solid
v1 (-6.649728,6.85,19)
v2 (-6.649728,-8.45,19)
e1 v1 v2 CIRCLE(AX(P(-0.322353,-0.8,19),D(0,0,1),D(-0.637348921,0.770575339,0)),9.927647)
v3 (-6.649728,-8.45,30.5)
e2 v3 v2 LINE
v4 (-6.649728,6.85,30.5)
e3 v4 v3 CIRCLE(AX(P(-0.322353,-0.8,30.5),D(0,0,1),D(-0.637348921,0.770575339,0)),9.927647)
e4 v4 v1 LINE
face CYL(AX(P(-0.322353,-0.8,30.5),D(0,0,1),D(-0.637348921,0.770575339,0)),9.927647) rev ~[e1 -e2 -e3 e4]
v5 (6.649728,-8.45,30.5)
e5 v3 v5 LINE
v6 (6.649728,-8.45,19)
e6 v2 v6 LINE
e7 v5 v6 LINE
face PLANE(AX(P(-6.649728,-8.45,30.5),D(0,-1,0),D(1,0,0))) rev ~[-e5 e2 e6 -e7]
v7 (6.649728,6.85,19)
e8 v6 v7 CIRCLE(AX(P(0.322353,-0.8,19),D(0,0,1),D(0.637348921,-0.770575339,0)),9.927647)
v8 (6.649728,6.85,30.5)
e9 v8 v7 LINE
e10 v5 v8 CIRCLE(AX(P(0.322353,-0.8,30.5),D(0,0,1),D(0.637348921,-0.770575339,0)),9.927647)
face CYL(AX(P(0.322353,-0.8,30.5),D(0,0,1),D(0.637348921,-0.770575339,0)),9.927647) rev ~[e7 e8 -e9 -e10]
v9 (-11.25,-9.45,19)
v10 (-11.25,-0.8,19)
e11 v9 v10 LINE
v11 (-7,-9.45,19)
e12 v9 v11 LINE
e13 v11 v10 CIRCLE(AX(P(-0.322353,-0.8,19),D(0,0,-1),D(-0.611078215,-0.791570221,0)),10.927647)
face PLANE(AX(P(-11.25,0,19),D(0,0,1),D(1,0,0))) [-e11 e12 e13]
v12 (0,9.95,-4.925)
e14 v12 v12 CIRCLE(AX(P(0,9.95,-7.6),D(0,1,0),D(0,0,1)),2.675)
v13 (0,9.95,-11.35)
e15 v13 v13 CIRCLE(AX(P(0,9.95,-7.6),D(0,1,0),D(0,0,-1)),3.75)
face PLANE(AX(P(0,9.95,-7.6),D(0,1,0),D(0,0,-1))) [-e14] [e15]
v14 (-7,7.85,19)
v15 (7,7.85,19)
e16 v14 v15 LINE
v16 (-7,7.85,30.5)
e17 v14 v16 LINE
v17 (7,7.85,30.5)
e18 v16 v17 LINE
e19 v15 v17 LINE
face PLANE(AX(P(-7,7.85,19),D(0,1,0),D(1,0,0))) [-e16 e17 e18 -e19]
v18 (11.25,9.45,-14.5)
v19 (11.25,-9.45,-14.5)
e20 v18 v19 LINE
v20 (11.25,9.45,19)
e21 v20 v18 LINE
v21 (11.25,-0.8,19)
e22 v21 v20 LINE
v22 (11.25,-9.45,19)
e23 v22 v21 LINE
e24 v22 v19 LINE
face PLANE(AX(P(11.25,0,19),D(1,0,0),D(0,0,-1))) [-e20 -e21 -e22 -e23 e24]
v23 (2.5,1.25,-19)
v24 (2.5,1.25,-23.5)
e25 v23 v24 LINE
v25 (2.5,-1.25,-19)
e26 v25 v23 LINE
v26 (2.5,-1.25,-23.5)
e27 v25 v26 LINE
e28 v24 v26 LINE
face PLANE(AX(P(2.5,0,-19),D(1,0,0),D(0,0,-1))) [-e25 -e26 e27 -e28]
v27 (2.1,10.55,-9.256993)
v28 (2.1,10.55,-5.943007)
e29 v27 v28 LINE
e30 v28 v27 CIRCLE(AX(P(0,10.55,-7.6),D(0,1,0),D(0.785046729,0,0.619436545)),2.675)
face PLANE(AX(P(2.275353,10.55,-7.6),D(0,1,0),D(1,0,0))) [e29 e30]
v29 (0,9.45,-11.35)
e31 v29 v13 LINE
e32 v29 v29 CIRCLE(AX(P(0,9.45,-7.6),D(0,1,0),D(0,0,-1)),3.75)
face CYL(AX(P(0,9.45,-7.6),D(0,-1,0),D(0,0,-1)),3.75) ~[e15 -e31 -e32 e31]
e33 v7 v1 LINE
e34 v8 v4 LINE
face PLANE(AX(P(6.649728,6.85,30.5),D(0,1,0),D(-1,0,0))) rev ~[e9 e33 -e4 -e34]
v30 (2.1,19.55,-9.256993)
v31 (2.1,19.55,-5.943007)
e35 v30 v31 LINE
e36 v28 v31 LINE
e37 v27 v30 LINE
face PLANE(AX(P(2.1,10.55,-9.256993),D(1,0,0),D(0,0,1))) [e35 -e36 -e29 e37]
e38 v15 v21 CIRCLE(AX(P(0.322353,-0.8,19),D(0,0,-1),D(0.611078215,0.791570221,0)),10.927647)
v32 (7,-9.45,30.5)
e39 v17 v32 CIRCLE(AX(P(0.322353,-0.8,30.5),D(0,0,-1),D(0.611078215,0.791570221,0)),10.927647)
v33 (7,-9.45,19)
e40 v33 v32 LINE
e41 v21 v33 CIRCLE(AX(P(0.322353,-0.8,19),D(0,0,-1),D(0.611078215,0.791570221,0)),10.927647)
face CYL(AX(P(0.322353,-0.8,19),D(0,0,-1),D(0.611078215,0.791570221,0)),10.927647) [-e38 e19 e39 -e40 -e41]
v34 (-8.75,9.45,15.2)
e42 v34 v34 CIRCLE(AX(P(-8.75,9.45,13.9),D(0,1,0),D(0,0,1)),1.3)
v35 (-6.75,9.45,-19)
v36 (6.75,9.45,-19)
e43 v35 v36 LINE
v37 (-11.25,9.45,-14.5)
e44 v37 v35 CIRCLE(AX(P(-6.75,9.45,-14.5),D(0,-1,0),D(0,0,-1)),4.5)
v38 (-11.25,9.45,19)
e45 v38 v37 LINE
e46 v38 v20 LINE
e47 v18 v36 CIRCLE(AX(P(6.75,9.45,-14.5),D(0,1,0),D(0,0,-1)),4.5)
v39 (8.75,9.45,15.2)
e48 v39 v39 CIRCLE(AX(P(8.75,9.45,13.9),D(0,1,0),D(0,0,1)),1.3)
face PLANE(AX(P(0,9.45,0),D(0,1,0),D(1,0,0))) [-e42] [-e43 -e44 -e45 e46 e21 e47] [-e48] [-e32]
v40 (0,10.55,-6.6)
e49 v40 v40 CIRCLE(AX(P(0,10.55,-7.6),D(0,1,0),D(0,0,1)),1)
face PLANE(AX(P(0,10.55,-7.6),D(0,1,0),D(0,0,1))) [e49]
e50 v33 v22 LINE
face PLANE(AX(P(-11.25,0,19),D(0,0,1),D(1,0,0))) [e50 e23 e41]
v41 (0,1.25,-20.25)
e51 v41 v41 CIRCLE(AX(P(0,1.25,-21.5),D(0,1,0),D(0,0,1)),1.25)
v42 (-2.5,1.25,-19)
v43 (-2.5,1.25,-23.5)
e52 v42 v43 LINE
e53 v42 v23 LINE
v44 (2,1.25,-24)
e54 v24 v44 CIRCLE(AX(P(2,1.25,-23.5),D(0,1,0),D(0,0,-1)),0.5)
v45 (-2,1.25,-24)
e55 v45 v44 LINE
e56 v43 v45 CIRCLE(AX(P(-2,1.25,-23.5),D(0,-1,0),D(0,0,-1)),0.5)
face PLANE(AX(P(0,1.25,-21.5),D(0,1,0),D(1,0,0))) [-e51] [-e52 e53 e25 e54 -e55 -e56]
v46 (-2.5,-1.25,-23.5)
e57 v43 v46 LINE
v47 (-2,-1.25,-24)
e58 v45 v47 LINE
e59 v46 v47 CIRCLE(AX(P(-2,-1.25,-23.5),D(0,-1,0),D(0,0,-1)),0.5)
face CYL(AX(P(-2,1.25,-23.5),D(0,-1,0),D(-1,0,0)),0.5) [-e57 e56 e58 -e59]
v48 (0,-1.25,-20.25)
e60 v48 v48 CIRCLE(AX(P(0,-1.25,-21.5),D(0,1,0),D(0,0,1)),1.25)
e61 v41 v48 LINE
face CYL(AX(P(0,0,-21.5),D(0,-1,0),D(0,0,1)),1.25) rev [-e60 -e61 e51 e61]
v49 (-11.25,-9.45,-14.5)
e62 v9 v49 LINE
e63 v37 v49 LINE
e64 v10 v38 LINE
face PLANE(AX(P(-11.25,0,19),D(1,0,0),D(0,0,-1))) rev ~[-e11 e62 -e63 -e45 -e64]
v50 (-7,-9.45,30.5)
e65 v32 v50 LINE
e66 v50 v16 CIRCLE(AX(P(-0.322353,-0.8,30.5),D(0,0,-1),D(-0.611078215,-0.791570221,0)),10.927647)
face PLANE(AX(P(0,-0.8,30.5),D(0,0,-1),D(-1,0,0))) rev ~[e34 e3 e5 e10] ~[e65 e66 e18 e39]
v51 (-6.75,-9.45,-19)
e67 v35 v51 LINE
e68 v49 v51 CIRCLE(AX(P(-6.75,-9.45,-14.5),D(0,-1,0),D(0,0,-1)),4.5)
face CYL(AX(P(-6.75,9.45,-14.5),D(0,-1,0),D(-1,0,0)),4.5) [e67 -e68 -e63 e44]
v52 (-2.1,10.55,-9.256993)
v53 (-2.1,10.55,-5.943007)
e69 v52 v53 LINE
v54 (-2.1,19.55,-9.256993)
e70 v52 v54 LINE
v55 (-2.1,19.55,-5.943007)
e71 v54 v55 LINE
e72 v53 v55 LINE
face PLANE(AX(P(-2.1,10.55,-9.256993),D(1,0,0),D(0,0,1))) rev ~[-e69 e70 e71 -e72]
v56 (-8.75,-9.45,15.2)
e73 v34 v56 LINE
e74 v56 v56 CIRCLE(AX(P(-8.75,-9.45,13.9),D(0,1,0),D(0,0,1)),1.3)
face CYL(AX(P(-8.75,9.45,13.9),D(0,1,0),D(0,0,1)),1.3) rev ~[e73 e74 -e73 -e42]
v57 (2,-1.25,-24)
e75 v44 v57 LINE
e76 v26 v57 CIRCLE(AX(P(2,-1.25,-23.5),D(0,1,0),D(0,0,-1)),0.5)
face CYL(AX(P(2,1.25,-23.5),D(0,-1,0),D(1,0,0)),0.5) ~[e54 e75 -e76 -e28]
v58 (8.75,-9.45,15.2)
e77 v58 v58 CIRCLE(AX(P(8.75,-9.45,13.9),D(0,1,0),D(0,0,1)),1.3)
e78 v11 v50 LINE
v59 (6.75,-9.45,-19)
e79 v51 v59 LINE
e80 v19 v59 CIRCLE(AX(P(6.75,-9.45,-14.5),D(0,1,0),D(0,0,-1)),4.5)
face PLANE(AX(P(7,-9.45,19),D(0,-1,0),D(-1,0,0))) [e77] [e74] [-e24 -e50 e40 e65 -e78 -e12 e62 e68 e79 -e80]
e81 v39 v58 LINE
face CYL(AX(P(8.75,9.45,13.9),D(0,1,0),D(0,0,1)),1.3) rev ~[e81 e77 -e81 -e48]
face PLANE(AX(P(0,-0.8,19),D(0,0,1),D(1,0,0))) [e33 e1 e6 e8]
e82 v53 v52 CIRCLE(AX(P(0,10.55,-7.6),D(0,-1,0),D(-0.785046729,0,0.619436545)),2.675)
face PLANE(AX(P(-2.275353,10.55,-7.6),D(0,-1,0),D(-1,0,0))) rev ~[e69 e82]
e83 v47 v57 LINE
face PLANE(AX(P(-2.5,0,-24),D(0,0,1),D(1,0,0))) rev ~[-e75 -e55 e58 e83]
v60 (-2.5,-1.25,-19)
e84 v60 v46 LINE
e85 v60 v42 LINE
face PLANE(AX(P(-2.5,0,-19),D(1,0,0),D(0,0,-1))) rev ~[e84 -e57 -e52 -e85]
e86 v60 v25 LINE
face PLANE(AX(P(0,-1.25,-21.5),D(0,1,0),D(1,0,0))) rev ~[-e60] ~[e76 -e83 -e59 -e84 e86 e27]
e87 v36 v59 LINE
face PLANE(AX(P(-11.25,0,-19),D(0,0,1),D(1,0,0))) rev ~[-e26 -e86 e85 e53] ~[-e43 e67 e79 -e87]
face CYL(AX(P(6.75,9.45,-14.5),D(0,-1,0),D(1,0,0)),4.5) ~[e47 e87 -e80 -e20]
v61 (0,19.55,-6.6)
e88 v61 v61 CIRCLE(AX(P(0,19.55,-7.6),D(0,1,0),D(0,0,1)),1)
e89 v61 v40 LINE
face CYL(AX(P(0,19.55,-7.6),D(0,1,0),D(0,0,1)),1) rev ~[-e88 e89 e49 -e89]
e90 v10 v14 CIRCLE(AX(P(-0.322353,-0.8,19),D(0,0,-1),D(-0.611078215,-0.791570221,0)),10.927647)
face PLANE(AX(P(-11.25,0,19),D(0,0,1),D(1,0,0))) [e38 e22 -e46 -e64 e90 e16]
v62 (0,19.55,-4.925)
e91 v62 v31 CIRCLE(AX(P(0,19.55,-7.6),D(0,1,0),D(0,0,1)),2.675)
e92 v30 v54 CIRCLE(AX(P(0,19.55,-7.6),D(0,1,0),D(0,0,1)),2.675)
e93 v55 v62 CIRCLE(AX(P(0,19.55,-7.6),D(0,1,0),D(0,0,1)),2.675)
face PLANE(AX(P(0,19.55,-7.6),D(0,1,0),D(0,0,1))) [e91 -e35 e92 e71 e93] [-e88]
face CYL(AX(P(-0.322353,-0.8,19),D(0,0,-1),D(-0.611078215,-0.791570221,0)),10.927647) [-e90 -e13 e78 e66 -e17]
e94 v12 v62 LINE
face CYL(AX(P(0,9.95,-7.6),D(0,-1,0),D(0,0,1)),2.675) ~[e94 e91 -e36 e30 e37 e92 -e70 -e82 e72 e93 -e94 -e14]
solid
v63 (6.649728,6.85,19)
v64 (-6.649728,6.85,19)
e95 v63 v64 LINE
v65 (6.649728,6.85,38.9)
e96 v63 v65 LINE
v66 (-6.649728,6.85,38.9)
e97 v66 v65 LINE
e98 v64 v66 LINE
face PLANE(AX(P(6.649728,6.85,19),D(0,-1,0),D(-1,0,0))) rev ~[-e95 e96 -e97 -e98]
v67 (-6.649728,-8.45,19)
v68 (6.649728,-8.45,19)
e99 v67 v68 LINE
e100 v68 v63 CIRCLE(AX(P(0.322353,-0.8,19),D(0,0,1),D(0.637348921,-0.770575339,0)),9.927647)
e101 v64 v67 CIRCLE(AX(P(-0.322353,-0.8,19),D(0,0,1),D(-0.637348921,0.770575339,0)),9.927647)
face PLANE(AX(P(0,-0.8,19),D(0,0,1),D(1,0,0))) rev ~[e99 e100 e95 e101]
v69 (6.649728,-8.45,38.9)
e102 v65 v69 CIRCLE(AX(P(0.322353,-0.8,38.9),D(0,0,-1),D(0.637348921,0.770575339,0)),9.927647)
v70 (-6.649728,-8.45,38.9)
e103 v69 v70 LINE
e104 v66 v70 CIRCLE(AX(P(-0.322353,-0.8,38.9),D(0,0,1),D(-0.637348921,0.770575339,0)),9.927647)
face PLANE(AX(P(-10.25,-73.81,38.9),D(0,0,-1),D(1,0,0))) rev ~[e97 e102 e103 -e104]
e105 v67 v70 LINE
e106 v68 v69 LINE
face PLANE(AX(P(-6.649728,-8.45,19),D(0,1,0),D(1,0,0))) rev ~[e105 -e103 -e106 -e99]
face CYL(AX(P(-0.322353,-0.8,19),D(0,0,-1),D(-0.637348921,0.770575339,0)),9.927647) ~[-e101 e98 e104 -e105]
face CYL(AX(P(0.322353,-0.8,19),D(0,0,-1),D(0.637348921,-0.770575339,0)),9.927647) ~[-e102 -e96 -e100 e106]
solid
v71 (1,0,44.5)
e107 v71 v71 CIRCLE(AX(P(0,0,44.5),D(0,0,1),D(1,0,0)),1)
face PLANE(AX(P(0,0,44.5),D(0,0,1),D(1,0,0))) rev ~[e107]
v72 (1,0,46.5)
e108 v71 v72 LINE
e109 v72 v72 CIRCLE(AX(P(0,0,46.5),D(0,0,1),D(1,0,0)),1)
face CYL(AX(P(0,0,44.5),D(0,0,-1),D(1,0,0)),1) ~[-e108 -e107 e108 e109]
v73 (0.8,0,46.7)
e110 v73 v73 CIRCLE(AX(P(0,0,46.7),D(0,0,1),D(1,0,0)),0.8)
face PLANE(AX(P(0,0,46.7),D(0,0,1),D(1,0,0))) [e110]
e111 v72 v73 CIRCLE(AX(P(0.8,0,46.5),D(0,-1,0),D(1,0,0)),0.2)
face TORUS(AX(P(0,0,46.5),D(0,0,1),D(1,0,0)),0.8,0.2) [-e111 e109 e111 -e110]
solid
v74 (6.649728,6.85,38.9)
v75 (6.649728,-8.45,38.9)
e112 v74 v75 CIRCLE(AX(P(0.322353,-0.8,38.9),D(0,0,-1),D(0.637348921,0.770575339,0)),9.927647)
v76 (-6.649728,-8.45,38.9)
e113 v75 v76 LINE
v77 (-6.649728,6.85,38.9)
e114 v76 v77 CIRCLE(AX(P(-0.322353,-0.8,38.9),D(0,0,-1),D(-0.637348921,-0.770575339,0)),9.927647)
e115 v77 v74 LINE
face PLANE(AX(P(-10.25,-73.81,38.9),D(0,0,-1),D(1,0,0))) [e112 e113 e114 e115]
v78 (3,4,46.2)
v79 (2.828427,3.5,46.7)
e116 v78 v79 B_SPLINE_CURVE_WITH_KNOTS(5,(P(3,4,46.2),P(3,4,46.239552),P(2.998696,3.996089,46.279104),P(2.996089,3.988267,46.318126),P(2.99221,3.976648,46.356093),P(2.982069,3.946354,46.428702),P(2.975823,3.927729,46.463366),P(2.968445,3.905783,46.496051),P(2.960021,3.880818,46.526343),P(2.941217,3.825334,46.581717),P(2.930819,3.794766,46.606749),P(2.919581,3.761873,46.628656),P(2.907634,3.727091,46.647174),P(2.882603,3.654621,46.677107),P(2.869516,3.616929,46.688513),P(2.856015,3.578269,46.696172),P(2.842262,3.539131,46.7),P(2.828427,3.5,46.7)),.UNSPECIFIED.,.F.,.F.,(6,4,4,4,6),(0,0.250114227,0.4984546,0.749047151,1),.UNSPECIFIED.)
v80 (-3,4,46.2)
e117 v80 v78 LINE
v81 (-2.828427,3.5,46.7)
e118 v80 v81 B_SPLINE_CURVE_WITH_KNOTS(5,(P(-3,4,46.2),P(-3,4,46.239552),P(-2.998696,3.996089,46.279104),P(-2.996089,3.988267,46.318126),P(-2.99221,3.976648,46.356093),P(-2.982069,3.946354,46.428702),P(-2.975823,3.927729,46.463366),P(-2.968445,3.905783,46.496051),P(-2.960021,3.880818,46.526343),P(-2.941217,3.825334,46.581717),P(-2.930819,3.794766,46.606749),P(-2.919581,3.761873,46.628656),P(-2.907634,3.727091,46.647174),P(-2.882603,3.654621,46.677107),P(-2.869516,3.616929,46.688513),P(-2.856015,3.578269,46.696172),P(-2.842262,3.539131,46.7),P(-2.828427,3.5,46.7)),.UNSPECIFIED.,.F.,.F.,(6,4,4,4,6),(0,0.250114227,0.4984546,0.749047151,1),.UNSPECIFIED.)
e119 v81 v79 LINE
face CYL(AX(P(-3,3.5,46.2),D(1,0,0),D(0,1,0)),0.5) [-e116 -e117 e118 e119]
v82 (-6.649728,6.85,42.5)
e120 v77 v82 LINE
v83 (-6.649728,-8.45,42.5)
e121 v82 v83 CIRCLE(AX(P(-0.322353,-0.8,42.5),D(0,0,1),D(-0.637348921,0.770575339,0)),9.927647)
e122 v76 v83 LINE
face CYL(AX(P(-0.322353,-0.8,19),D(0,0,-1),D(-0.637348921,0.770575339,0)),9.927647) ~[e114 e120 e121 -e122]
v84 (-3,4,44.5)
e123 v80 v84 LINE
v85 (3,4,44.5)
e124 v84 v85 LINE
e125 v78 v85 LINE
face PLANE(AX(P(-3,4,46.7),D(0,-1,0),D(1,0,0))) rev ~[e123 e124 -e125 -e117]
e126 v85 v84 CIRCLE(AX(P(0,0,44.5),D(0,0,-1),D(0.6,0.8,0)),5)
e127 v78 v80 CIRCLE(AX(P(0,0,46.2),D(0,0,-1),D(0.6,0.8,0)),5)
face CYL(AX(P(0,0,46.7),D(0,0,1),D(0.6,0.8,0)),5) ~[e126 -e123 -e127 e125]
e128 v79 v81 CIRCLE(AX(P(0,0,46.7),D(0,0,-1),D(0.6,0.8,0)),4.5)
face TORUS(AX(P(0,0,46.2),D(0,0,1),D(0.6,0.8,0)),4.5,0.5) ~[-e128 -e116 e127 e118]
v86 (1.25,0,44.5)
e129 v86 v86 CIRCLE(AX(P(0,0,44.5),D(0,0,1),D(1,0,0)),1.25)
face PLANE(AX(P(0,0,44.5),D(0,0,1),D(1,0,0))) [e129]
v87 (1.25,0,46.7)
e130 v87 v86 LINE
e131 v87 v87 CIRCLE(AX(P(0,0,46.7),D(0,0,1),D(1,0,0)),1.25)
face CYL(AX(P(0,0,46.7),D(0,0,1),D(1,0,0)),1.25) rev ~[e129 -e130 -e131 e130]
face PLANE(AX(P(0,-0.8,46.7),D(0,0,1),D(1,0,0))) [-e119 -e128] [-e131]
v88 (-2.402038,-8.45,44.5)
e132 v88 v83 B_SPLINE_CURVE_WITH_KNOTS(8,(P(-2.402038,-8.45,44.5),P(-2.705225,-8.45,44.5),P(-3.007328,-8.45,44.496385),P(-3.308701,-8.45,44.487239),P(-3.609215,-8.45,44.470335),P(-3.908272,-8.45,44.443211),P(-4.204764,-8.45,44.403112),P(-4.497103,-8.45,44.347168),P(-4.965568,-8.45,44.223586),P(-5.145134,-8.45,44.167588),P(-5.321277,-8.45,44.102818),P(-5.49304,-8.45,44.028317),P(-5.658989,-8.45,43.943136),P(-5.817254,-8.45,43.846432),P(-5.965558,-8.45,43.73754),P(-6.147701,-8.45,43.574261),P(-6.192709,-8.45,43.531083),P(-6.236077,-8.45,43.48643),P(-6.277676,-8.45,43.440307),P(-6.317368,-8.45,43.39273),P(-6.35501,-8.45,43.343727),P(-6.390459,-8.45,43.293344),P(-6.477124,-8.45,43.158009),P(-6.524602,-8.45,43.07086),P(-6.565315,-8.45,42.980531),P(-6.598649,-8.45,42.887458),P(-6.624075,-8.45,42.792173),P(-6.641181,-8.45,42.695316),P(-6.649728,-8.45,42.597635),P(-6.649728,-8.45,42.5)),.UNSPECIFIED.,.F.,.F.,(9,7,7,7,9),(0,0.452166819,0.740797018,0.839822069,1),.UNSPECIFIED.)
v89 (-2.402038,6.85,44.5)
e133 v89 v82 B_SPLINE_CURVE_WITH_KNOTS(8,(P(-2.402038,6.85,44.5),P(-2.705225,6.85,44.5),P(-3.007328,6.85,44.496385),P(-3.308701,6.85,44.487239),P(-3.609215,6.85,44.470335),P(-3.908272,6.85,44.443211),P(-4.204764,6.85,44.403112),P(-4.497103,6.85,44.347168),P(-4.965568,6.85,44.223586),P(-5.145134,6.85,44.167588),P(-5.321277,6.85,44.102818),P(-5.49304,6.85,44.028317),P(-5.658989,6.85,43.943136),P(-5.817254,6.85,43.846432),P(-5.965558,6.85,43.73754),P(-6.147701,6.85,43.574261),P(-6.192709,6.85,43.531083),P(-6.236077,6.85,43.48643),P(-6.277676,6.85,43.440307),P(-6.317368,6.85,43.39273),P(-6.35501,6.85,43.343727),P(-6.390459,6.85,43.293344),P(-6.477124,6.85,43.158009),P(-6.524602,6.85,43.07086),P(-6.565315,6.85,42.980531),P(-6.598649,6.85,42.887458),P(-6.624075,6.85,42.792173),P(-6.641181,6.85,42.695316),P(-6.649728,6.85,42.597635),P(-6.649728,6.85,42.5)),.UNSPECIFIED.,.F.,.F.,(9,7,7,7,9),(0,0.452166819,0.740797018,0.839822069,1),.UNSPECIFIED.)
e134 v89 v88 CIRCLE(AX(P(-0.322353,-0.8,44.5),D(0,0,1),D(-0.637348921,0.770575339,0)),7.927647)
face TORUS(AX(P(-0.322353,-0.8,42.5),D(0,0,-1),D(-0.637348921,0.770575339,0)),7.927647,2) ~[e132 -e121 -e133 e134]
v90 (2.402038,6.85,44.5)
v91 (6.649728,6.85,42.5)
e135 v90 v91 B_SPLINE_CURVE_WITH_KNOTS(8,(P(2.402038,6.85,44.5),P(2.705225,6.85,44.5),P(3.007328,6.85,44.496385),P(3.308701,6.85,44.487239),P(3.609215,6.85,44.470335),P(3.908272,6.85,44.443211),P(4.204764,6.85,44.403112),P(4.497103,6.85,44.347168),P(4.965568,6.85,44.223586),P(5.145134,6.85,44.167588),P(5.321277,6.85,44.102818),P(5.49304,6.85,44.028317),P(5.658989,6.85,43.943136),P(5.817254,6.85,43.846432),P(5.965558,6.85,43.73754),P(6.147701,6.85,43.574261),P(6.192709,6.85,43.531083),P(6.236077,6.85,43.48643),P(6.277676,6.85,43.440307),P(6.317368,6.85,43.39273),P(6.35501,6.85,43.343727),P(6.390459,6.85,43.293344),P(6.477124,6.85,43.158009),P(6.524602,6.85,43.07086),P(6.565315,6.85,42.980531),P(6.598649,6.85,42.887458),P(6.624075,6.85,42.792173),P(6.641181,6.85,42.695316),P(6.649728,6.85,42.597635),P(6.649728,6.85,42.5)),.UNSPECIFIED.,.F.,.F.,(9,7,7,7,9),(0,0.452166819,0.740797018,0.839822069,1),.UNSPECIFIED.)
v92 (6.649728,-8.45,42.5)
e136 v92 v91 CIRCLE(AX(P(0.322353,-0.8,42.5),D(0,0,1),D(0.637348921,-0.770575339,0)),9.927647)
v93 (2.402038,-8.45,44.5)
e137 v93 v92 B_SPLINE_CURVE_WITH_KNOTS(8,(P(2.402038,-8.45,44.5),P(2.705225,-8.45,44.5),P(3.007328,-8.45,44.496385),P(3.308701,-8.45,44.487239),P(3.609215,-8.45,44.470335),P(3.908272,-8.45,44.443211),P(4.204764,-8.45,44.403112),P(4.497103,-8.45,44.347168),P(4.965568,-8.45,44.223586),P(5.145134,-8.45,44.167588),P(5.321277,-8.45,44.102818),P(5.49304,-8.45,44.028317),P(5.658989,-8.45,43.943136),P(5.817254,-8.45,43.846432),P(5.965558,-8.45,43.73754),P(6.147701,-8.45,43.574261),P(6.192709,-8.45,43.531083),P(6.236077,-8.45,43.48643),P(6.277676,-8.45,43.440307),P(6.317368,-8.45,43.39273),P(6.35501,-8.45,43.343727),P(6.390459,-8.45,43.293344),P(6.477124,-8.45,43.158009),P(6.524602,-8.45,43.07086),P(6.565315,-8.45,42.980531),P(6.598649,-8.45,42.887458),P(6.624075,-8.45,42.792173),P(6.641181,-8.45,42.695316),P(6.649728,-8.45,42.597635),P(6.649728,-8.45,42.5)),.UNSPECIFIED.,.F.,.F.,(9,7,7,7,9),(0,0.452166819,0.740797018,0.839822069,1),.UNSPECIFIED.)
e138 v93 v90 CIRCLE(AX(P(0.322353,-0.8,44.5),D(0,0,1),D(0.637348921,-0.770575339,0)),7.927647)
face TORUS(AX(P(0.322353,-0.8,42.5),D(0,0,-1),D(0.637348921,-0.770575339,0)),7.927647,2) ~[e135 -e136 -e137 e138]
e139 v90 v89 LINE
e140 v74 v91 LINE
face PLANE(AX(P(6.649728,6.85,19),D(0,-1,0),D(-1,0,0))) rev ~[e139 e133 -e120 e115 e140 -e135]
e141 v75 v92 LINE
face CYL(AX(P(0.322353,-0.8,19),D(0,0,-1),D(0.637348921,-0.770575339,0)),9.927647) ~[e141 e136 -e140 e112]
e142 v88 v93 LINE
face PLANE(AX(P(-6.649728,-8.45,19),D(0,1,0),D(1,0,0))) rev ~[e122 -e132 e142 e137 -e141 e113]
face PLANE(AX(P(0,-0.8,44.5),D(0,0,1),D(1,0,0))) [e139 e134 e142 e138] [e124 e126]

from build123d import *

# Parameters (mm, degrees)
SKETCH1_W              = 22.5
SKETCH1_H              = 38
BOSS_EXTRUDE1_DEPTH    = 9.45
FILLET1_R              = 4.5
BOSS_EXTRUDE2_DEPTH    = 11.5
CUT_EXTRUDE1_DEPTH     = 11.5
SKETCH4_W              = 5
SKETCH4_H              = 5
SKETCH4_R              = 1.25
BOSS_EXTRUDE3_DEPTH    = 1.25
SKETCH5_R              = 3.75
BOSS_EXTRUDE4_DEPTH    = 0.5
SKETCH6_R              = 2.675
BOSS_EXTRUDE5_DEPTH    = 9.6
CUT_EXTRUDE4_START     = -9
CUT_EXTRUDE4_DEPTH     = 9
SKETCH8_R              = 1
CUT_EXTRUDE5_DEPTH     = 9
FILLET2_R              = 0.5
BOSS_EXTRUDE6_DEPTH    = 27.7
SPLIT1_SURFACE_1_BACK  = 80.66
SPLIT1_SURFACE_1_DEPTH = 161.32
SPLIT1_SURFACE_2_BACK  = 80.66
SPLIT1_SURFACE_2_DEPTH = 161.32
CUT_EXTRUDE6_DEPTH     = 2.2
FILLET4_R              = 0.5
FILLET3_R              = 2
SKETCH12_R             = 1.25
CUT_EXTRUDE7_DEPTH     = 2.2
SKETCH13_R             = 1
BOSS_EXTRUDE7_DEPTH    = 2.2
FILLET5_R              = 0.2
SKETCH14_R             = 1.3
CUT_EXTRUDE8_DEPTH     = 18.9


with BuildPart() as part:
    # Sketch1 → Boss-Extrude1 (new, symmetric)
    with BuildSketch(Plane(origin=(0, 0, 0), x_dir=(1, 0, 0), z_dir=(0, 1, 0))):
        Rectangle(SKETCH1_W, SKETCH1_H)
    extrude(amount=BOSS_EXTRUDE1_DEPTH, both=True)

    # Fillet1
    fillet1_edges = [part.edges().sort_by_distance(p)[0] for p in [
        (-11.25, 0, -19),
        (11.25, 0, -19),
    ]]
    fillet(fillet1_edges, radius=FILLET1_R)

    # Sketch2 → Boss-Extrude2 (add)
    with BuildSketch(Plane.XY.offset(19)):
        with BuildLine():
            Line((7, -9.45), (-7, -9.45))
            ThreePointArc((-7, -9.45), (-11.25, -0.8), (-7, 7.85))
            Line((-7, 7.85), (7, 7.85))
            ThreePointArc((7, 7.85), (11.25, -0.8), (7, -9.45))
        make_face()
    extrude(amount=BOSS_EXTRUDE2_DEPTH)

    # Sketch3 → Cut-Extrude1 (cut)
    with BuildSketch(Plane.XY.offset(30.5)):
        with BuildLine():
            Line((-6.649728078, -8.45), (6.649728078, -8.45))
            ThreePointArc((6.649728078, -8.45), (10.25, -0.8), (6.649728078, 6.85))
            Line((6.649728078, 6.85), (-6.649728078, 6.85))
            ThreePointArc((-6.649728078, 6.85), (-10.25, -0.8), (-6.649728078, -8.45))
        make_face()
    extrude(amount=-CUT_EXTRUDE1_DEPTH, mode=Mode.SUBTRACT)

    # Sketch4 → Boss-Extrude3 (add, symmetric)
    with BuildSketch(Plane(origin=(0, 0, 0), x_dir=(1, 0, 0), z_dir=(0, 1, 0))):
        with Locations((0, 21.5)):
            Rectangle(SKETCH4_W, SKETCH4_H)
        with Locations(Location((0, 21.5, 0), (0, 0, 270))):
            Circle(SKETCH4_R, mode=Mode.SUBTRACT)
    extrude(amount=BOSS_EXTRUDE3_DEPTH, both=True)

    # Sketch5 → Boss-Extrude4 (add)
    with BuildSketch(Plane(origin=(0, 9.45, 0), x_dir=(1, 0, 0), z_dir=(0, 1, 0))):
        with Locations(Location((0, 7.6, 0), (0, 0, 90))):
            Circle(SKETCH5_R)
    extrude(amount=BOSS_EXTRUDE4_DEPTH)

    # Sketch6 → Boss-Extrude5 (add)
    with BuildSketch(Plane(origin=(0, 9.95, 0), x_dir=(1, 0, 0), z_dir=(0, 1, 0))):
        with Locations(Location((0, 7.6, 0), (0, 0, 270))):
            Circle(SKETCH6_R)
    extrude(amount=BOSS_EXTRUDE5_DEPTH)

    # Sketch7 → Cut-Extrude4 (cut)
    with BuildSketch(Plane(origin=(0, 19.55, 0), x_dir=(1, 0, 0), z_dir=(0, 1, 0)).offset(CUT_EXTRUDE4_START)):
        with BuildLine():
            Line((-2.1, 9.256992758), (-2.1, 5.943007242))
            ThreePointArc((-2.1, 5.943007242), (-2.675, 7.6), (-2.1, 9.256992758))
        make_face()
        with BuildLine():
            Line((2.1, 9.256992758), (2.1, 5.943007242))
            ThreePointArc((2.1, 5.943007242), (2.675, 7.6), (2.1, 9.256992758))
        make_face()
    extrude(amount=CUT_EXTRUDE4_DEPTH, mode=Mode.SUBTRACT)

    # Sketch8 → Cut-Extrude5 (cut)
    with BuildSketch(Plane(origin=(0, 19.55, 0), x_dir=(1, 0, 0), z_dir=(0, 1, 0))):
        with Locations(Location((0, 7.6, 0), (0, 0, 270))):
            Circle(SKETCH8_R)
    extrude(amount=-CUT_EXTRUDE5_DEPTH, mode=Mode.SUBTRACT)

    # Fillet2
    fillet2_edges = [part.edges().sort_by_distance(p)[0] for p in [
        (-2.5, 0, -24),
        (2.5, 0, -24),
    ]]
    fillet(fillet2_edges, radius=FILLET2_R)

    # Sketch14 → Cut-Extrude8 (cut)
    with BuildSketch(Plane(origin=(0, 9.45, 0), x_dir=(1, 0, 0), z_dir=(0, 1, 0))):
        with Locations(Location((-8.75, -13.9, 0), (0, 0, 270))):
            Circle(SKETCH14_R)
        with Locations(Location((8.75, -13.9, 0), (0, 0, 270))):
            Circle(SKETCH14_R)
    extrude(amount=-CUT_EXTRUDE8_DEPTH, mode=Mode.SUBTRACT)


with BuildPart() as body_2:
    # Sketch9 → Boss-Extrude6 (new body)
    with BuildSketch(Plane.XY.offset(19)):
        with BuildLine():
            Line((-6.649728078, -8.45), (6.649728078, -8.45))
            ThreePointArc((6.649728078, -8.45), (10.25, -0.8), (6.649728078, 6.85))
            Line((6.649728078, 6.85), (-6.649728078, 6.85))
            ThreePointArc((-6.649728078, 6.85), (-10.25, -0.8), (-6.649728078, -8.45))
        make_face()
    extrude(amount=BOSS_EXTRUDE6_DEPTH)


with BuildPart() as body_3:
    # Split1: the piece behind the surface
    add(body_2.part)
    # Split1 surface: a surface, the sketch's curves swept straight by 161.32 mm
    with BuildLine(Plane(origin=(0, 6.85, 0), x_dir=(1, 0, 0), z_dir=(0, 1, 0)).offset(-SPLIT1_SURFACE_1_BACK), mode=Mode.PRIVATE) as split1_surface_1_path:
        Line((-10.25, -38.9), (10.25, -38.9))
    split1_surface_1 = Shell.extrude(split1_surface_1_path.wire(), (0 * SPLIT1_SURFACE_1_DEPTH, 1 * SPLIT1_SURFACE_1_DEPTH, 0 * SPLIT1_SURFACE_1_DEPTH))
    split(bisect_by=split1_surface_1, keep=Keep.BOTTOM)

    # Sketch11 → Cut-Extrude6 (cut)
    with BuildSketch(Plane.XY.offset(46.7)):
        with BuildLine():
            Line((-6.649728078, -8.45), (6.649728078, -8.45))
            ThreePointArc((6.649728078, -8.45), (10.25, -0.8), (6.649728078, 6.85))
            Line((6.649728078, 6.85), (-6.649728078, 6.85))
            ThreePointArc((-6.649728078, 6.85), (-10.25, -0.8), (-6.649728078, -8.45))
        make_face()
        with BuildLine():
            Line((-3, 4), (3, 4))
            ThreePointArc((3, 4), (0, -5), (-3, 4))
        make_face(mode=Mode.SUBTRACT)
    extrude(amount=-CUT_EXTRUDE6_DEPTH, mode=Mode.SUBTRACT)

    # Fillet4
    fillet4_edges = [body_3.edges().sort_by_distance(p)[0] for p in [
        (0, -5, 46.7),
        (0, 4, 46.7),
    ]]
    fillet(fillet4_edges, radius=FILLET4_R)

    # Fillet3
    fillet3_edges = [body_3.edges().sort_by_distance(p)[0] for p in [
        (-10.25, -0.8, 44.5),
        (10.25, -0.8, 44.5),
    ]]
    fillet(fillet3_edges, radius=FILLET3_R)

    # Sketch12 → Cut-Extrude7 (cut)
    with BuildSketch(Plane.XY.offset(46.7)):
        Circle(SKETCH12_R)
    extrude(amount=-CUT_EXTRUDE7_DEPTH, mode=Mode.SUBTRACT)


with BuildPart() as body_2_1:
    add(body_2.part)

    # Split1: split by a surface, the side it looks to stays
    # Split1 surface: a surface, the sketch's curves swept straight by 161.32 mm
    with BuildLine(Plane(origin=(0, 6.85, 0), x_dir=(1, 0, 0), z_dir=(0, 1, 0)).offset(-SPLIT1_SURFACE_2_BACK), mode=Mode.PRIVATE) as split1_surface_2_path:
        Line((-10.25, -38.9), (10.25, -38.9))
    split1_surface_2 = Shell.extrude(split1_surface_2_path.wire(), (0 * SPLIT1_SURFACE_2_DEPTH, 1 * SPLIT1_SURFACE_2_DEPTH, 0 * SPLIT1_SURFACE_2_DEPTH))
    split(bisect_by=split1_surface_2, keep=Keep.TOP)


with BuildPart() as body_4:
    # Sketch13 → Boss-Extrude7 (new body)
    with BuildSketch(Plane.XY.offset(44.5)):
        Circle(SKETCH13_R)
    extrude(amount=BOSS_EXTRUDE7_DEPTH)

    # Fillet5
    fillet5_edges = [body_4.edges().sort_by_distance(p)[0] for p in [
        (-1, 0, 46.7),
    ]]
    fillet(fillet5_edges, radius=FILLET5_R)


solid = Compound([part.part, body_3.part, body_2_1.part, body_4.part])
